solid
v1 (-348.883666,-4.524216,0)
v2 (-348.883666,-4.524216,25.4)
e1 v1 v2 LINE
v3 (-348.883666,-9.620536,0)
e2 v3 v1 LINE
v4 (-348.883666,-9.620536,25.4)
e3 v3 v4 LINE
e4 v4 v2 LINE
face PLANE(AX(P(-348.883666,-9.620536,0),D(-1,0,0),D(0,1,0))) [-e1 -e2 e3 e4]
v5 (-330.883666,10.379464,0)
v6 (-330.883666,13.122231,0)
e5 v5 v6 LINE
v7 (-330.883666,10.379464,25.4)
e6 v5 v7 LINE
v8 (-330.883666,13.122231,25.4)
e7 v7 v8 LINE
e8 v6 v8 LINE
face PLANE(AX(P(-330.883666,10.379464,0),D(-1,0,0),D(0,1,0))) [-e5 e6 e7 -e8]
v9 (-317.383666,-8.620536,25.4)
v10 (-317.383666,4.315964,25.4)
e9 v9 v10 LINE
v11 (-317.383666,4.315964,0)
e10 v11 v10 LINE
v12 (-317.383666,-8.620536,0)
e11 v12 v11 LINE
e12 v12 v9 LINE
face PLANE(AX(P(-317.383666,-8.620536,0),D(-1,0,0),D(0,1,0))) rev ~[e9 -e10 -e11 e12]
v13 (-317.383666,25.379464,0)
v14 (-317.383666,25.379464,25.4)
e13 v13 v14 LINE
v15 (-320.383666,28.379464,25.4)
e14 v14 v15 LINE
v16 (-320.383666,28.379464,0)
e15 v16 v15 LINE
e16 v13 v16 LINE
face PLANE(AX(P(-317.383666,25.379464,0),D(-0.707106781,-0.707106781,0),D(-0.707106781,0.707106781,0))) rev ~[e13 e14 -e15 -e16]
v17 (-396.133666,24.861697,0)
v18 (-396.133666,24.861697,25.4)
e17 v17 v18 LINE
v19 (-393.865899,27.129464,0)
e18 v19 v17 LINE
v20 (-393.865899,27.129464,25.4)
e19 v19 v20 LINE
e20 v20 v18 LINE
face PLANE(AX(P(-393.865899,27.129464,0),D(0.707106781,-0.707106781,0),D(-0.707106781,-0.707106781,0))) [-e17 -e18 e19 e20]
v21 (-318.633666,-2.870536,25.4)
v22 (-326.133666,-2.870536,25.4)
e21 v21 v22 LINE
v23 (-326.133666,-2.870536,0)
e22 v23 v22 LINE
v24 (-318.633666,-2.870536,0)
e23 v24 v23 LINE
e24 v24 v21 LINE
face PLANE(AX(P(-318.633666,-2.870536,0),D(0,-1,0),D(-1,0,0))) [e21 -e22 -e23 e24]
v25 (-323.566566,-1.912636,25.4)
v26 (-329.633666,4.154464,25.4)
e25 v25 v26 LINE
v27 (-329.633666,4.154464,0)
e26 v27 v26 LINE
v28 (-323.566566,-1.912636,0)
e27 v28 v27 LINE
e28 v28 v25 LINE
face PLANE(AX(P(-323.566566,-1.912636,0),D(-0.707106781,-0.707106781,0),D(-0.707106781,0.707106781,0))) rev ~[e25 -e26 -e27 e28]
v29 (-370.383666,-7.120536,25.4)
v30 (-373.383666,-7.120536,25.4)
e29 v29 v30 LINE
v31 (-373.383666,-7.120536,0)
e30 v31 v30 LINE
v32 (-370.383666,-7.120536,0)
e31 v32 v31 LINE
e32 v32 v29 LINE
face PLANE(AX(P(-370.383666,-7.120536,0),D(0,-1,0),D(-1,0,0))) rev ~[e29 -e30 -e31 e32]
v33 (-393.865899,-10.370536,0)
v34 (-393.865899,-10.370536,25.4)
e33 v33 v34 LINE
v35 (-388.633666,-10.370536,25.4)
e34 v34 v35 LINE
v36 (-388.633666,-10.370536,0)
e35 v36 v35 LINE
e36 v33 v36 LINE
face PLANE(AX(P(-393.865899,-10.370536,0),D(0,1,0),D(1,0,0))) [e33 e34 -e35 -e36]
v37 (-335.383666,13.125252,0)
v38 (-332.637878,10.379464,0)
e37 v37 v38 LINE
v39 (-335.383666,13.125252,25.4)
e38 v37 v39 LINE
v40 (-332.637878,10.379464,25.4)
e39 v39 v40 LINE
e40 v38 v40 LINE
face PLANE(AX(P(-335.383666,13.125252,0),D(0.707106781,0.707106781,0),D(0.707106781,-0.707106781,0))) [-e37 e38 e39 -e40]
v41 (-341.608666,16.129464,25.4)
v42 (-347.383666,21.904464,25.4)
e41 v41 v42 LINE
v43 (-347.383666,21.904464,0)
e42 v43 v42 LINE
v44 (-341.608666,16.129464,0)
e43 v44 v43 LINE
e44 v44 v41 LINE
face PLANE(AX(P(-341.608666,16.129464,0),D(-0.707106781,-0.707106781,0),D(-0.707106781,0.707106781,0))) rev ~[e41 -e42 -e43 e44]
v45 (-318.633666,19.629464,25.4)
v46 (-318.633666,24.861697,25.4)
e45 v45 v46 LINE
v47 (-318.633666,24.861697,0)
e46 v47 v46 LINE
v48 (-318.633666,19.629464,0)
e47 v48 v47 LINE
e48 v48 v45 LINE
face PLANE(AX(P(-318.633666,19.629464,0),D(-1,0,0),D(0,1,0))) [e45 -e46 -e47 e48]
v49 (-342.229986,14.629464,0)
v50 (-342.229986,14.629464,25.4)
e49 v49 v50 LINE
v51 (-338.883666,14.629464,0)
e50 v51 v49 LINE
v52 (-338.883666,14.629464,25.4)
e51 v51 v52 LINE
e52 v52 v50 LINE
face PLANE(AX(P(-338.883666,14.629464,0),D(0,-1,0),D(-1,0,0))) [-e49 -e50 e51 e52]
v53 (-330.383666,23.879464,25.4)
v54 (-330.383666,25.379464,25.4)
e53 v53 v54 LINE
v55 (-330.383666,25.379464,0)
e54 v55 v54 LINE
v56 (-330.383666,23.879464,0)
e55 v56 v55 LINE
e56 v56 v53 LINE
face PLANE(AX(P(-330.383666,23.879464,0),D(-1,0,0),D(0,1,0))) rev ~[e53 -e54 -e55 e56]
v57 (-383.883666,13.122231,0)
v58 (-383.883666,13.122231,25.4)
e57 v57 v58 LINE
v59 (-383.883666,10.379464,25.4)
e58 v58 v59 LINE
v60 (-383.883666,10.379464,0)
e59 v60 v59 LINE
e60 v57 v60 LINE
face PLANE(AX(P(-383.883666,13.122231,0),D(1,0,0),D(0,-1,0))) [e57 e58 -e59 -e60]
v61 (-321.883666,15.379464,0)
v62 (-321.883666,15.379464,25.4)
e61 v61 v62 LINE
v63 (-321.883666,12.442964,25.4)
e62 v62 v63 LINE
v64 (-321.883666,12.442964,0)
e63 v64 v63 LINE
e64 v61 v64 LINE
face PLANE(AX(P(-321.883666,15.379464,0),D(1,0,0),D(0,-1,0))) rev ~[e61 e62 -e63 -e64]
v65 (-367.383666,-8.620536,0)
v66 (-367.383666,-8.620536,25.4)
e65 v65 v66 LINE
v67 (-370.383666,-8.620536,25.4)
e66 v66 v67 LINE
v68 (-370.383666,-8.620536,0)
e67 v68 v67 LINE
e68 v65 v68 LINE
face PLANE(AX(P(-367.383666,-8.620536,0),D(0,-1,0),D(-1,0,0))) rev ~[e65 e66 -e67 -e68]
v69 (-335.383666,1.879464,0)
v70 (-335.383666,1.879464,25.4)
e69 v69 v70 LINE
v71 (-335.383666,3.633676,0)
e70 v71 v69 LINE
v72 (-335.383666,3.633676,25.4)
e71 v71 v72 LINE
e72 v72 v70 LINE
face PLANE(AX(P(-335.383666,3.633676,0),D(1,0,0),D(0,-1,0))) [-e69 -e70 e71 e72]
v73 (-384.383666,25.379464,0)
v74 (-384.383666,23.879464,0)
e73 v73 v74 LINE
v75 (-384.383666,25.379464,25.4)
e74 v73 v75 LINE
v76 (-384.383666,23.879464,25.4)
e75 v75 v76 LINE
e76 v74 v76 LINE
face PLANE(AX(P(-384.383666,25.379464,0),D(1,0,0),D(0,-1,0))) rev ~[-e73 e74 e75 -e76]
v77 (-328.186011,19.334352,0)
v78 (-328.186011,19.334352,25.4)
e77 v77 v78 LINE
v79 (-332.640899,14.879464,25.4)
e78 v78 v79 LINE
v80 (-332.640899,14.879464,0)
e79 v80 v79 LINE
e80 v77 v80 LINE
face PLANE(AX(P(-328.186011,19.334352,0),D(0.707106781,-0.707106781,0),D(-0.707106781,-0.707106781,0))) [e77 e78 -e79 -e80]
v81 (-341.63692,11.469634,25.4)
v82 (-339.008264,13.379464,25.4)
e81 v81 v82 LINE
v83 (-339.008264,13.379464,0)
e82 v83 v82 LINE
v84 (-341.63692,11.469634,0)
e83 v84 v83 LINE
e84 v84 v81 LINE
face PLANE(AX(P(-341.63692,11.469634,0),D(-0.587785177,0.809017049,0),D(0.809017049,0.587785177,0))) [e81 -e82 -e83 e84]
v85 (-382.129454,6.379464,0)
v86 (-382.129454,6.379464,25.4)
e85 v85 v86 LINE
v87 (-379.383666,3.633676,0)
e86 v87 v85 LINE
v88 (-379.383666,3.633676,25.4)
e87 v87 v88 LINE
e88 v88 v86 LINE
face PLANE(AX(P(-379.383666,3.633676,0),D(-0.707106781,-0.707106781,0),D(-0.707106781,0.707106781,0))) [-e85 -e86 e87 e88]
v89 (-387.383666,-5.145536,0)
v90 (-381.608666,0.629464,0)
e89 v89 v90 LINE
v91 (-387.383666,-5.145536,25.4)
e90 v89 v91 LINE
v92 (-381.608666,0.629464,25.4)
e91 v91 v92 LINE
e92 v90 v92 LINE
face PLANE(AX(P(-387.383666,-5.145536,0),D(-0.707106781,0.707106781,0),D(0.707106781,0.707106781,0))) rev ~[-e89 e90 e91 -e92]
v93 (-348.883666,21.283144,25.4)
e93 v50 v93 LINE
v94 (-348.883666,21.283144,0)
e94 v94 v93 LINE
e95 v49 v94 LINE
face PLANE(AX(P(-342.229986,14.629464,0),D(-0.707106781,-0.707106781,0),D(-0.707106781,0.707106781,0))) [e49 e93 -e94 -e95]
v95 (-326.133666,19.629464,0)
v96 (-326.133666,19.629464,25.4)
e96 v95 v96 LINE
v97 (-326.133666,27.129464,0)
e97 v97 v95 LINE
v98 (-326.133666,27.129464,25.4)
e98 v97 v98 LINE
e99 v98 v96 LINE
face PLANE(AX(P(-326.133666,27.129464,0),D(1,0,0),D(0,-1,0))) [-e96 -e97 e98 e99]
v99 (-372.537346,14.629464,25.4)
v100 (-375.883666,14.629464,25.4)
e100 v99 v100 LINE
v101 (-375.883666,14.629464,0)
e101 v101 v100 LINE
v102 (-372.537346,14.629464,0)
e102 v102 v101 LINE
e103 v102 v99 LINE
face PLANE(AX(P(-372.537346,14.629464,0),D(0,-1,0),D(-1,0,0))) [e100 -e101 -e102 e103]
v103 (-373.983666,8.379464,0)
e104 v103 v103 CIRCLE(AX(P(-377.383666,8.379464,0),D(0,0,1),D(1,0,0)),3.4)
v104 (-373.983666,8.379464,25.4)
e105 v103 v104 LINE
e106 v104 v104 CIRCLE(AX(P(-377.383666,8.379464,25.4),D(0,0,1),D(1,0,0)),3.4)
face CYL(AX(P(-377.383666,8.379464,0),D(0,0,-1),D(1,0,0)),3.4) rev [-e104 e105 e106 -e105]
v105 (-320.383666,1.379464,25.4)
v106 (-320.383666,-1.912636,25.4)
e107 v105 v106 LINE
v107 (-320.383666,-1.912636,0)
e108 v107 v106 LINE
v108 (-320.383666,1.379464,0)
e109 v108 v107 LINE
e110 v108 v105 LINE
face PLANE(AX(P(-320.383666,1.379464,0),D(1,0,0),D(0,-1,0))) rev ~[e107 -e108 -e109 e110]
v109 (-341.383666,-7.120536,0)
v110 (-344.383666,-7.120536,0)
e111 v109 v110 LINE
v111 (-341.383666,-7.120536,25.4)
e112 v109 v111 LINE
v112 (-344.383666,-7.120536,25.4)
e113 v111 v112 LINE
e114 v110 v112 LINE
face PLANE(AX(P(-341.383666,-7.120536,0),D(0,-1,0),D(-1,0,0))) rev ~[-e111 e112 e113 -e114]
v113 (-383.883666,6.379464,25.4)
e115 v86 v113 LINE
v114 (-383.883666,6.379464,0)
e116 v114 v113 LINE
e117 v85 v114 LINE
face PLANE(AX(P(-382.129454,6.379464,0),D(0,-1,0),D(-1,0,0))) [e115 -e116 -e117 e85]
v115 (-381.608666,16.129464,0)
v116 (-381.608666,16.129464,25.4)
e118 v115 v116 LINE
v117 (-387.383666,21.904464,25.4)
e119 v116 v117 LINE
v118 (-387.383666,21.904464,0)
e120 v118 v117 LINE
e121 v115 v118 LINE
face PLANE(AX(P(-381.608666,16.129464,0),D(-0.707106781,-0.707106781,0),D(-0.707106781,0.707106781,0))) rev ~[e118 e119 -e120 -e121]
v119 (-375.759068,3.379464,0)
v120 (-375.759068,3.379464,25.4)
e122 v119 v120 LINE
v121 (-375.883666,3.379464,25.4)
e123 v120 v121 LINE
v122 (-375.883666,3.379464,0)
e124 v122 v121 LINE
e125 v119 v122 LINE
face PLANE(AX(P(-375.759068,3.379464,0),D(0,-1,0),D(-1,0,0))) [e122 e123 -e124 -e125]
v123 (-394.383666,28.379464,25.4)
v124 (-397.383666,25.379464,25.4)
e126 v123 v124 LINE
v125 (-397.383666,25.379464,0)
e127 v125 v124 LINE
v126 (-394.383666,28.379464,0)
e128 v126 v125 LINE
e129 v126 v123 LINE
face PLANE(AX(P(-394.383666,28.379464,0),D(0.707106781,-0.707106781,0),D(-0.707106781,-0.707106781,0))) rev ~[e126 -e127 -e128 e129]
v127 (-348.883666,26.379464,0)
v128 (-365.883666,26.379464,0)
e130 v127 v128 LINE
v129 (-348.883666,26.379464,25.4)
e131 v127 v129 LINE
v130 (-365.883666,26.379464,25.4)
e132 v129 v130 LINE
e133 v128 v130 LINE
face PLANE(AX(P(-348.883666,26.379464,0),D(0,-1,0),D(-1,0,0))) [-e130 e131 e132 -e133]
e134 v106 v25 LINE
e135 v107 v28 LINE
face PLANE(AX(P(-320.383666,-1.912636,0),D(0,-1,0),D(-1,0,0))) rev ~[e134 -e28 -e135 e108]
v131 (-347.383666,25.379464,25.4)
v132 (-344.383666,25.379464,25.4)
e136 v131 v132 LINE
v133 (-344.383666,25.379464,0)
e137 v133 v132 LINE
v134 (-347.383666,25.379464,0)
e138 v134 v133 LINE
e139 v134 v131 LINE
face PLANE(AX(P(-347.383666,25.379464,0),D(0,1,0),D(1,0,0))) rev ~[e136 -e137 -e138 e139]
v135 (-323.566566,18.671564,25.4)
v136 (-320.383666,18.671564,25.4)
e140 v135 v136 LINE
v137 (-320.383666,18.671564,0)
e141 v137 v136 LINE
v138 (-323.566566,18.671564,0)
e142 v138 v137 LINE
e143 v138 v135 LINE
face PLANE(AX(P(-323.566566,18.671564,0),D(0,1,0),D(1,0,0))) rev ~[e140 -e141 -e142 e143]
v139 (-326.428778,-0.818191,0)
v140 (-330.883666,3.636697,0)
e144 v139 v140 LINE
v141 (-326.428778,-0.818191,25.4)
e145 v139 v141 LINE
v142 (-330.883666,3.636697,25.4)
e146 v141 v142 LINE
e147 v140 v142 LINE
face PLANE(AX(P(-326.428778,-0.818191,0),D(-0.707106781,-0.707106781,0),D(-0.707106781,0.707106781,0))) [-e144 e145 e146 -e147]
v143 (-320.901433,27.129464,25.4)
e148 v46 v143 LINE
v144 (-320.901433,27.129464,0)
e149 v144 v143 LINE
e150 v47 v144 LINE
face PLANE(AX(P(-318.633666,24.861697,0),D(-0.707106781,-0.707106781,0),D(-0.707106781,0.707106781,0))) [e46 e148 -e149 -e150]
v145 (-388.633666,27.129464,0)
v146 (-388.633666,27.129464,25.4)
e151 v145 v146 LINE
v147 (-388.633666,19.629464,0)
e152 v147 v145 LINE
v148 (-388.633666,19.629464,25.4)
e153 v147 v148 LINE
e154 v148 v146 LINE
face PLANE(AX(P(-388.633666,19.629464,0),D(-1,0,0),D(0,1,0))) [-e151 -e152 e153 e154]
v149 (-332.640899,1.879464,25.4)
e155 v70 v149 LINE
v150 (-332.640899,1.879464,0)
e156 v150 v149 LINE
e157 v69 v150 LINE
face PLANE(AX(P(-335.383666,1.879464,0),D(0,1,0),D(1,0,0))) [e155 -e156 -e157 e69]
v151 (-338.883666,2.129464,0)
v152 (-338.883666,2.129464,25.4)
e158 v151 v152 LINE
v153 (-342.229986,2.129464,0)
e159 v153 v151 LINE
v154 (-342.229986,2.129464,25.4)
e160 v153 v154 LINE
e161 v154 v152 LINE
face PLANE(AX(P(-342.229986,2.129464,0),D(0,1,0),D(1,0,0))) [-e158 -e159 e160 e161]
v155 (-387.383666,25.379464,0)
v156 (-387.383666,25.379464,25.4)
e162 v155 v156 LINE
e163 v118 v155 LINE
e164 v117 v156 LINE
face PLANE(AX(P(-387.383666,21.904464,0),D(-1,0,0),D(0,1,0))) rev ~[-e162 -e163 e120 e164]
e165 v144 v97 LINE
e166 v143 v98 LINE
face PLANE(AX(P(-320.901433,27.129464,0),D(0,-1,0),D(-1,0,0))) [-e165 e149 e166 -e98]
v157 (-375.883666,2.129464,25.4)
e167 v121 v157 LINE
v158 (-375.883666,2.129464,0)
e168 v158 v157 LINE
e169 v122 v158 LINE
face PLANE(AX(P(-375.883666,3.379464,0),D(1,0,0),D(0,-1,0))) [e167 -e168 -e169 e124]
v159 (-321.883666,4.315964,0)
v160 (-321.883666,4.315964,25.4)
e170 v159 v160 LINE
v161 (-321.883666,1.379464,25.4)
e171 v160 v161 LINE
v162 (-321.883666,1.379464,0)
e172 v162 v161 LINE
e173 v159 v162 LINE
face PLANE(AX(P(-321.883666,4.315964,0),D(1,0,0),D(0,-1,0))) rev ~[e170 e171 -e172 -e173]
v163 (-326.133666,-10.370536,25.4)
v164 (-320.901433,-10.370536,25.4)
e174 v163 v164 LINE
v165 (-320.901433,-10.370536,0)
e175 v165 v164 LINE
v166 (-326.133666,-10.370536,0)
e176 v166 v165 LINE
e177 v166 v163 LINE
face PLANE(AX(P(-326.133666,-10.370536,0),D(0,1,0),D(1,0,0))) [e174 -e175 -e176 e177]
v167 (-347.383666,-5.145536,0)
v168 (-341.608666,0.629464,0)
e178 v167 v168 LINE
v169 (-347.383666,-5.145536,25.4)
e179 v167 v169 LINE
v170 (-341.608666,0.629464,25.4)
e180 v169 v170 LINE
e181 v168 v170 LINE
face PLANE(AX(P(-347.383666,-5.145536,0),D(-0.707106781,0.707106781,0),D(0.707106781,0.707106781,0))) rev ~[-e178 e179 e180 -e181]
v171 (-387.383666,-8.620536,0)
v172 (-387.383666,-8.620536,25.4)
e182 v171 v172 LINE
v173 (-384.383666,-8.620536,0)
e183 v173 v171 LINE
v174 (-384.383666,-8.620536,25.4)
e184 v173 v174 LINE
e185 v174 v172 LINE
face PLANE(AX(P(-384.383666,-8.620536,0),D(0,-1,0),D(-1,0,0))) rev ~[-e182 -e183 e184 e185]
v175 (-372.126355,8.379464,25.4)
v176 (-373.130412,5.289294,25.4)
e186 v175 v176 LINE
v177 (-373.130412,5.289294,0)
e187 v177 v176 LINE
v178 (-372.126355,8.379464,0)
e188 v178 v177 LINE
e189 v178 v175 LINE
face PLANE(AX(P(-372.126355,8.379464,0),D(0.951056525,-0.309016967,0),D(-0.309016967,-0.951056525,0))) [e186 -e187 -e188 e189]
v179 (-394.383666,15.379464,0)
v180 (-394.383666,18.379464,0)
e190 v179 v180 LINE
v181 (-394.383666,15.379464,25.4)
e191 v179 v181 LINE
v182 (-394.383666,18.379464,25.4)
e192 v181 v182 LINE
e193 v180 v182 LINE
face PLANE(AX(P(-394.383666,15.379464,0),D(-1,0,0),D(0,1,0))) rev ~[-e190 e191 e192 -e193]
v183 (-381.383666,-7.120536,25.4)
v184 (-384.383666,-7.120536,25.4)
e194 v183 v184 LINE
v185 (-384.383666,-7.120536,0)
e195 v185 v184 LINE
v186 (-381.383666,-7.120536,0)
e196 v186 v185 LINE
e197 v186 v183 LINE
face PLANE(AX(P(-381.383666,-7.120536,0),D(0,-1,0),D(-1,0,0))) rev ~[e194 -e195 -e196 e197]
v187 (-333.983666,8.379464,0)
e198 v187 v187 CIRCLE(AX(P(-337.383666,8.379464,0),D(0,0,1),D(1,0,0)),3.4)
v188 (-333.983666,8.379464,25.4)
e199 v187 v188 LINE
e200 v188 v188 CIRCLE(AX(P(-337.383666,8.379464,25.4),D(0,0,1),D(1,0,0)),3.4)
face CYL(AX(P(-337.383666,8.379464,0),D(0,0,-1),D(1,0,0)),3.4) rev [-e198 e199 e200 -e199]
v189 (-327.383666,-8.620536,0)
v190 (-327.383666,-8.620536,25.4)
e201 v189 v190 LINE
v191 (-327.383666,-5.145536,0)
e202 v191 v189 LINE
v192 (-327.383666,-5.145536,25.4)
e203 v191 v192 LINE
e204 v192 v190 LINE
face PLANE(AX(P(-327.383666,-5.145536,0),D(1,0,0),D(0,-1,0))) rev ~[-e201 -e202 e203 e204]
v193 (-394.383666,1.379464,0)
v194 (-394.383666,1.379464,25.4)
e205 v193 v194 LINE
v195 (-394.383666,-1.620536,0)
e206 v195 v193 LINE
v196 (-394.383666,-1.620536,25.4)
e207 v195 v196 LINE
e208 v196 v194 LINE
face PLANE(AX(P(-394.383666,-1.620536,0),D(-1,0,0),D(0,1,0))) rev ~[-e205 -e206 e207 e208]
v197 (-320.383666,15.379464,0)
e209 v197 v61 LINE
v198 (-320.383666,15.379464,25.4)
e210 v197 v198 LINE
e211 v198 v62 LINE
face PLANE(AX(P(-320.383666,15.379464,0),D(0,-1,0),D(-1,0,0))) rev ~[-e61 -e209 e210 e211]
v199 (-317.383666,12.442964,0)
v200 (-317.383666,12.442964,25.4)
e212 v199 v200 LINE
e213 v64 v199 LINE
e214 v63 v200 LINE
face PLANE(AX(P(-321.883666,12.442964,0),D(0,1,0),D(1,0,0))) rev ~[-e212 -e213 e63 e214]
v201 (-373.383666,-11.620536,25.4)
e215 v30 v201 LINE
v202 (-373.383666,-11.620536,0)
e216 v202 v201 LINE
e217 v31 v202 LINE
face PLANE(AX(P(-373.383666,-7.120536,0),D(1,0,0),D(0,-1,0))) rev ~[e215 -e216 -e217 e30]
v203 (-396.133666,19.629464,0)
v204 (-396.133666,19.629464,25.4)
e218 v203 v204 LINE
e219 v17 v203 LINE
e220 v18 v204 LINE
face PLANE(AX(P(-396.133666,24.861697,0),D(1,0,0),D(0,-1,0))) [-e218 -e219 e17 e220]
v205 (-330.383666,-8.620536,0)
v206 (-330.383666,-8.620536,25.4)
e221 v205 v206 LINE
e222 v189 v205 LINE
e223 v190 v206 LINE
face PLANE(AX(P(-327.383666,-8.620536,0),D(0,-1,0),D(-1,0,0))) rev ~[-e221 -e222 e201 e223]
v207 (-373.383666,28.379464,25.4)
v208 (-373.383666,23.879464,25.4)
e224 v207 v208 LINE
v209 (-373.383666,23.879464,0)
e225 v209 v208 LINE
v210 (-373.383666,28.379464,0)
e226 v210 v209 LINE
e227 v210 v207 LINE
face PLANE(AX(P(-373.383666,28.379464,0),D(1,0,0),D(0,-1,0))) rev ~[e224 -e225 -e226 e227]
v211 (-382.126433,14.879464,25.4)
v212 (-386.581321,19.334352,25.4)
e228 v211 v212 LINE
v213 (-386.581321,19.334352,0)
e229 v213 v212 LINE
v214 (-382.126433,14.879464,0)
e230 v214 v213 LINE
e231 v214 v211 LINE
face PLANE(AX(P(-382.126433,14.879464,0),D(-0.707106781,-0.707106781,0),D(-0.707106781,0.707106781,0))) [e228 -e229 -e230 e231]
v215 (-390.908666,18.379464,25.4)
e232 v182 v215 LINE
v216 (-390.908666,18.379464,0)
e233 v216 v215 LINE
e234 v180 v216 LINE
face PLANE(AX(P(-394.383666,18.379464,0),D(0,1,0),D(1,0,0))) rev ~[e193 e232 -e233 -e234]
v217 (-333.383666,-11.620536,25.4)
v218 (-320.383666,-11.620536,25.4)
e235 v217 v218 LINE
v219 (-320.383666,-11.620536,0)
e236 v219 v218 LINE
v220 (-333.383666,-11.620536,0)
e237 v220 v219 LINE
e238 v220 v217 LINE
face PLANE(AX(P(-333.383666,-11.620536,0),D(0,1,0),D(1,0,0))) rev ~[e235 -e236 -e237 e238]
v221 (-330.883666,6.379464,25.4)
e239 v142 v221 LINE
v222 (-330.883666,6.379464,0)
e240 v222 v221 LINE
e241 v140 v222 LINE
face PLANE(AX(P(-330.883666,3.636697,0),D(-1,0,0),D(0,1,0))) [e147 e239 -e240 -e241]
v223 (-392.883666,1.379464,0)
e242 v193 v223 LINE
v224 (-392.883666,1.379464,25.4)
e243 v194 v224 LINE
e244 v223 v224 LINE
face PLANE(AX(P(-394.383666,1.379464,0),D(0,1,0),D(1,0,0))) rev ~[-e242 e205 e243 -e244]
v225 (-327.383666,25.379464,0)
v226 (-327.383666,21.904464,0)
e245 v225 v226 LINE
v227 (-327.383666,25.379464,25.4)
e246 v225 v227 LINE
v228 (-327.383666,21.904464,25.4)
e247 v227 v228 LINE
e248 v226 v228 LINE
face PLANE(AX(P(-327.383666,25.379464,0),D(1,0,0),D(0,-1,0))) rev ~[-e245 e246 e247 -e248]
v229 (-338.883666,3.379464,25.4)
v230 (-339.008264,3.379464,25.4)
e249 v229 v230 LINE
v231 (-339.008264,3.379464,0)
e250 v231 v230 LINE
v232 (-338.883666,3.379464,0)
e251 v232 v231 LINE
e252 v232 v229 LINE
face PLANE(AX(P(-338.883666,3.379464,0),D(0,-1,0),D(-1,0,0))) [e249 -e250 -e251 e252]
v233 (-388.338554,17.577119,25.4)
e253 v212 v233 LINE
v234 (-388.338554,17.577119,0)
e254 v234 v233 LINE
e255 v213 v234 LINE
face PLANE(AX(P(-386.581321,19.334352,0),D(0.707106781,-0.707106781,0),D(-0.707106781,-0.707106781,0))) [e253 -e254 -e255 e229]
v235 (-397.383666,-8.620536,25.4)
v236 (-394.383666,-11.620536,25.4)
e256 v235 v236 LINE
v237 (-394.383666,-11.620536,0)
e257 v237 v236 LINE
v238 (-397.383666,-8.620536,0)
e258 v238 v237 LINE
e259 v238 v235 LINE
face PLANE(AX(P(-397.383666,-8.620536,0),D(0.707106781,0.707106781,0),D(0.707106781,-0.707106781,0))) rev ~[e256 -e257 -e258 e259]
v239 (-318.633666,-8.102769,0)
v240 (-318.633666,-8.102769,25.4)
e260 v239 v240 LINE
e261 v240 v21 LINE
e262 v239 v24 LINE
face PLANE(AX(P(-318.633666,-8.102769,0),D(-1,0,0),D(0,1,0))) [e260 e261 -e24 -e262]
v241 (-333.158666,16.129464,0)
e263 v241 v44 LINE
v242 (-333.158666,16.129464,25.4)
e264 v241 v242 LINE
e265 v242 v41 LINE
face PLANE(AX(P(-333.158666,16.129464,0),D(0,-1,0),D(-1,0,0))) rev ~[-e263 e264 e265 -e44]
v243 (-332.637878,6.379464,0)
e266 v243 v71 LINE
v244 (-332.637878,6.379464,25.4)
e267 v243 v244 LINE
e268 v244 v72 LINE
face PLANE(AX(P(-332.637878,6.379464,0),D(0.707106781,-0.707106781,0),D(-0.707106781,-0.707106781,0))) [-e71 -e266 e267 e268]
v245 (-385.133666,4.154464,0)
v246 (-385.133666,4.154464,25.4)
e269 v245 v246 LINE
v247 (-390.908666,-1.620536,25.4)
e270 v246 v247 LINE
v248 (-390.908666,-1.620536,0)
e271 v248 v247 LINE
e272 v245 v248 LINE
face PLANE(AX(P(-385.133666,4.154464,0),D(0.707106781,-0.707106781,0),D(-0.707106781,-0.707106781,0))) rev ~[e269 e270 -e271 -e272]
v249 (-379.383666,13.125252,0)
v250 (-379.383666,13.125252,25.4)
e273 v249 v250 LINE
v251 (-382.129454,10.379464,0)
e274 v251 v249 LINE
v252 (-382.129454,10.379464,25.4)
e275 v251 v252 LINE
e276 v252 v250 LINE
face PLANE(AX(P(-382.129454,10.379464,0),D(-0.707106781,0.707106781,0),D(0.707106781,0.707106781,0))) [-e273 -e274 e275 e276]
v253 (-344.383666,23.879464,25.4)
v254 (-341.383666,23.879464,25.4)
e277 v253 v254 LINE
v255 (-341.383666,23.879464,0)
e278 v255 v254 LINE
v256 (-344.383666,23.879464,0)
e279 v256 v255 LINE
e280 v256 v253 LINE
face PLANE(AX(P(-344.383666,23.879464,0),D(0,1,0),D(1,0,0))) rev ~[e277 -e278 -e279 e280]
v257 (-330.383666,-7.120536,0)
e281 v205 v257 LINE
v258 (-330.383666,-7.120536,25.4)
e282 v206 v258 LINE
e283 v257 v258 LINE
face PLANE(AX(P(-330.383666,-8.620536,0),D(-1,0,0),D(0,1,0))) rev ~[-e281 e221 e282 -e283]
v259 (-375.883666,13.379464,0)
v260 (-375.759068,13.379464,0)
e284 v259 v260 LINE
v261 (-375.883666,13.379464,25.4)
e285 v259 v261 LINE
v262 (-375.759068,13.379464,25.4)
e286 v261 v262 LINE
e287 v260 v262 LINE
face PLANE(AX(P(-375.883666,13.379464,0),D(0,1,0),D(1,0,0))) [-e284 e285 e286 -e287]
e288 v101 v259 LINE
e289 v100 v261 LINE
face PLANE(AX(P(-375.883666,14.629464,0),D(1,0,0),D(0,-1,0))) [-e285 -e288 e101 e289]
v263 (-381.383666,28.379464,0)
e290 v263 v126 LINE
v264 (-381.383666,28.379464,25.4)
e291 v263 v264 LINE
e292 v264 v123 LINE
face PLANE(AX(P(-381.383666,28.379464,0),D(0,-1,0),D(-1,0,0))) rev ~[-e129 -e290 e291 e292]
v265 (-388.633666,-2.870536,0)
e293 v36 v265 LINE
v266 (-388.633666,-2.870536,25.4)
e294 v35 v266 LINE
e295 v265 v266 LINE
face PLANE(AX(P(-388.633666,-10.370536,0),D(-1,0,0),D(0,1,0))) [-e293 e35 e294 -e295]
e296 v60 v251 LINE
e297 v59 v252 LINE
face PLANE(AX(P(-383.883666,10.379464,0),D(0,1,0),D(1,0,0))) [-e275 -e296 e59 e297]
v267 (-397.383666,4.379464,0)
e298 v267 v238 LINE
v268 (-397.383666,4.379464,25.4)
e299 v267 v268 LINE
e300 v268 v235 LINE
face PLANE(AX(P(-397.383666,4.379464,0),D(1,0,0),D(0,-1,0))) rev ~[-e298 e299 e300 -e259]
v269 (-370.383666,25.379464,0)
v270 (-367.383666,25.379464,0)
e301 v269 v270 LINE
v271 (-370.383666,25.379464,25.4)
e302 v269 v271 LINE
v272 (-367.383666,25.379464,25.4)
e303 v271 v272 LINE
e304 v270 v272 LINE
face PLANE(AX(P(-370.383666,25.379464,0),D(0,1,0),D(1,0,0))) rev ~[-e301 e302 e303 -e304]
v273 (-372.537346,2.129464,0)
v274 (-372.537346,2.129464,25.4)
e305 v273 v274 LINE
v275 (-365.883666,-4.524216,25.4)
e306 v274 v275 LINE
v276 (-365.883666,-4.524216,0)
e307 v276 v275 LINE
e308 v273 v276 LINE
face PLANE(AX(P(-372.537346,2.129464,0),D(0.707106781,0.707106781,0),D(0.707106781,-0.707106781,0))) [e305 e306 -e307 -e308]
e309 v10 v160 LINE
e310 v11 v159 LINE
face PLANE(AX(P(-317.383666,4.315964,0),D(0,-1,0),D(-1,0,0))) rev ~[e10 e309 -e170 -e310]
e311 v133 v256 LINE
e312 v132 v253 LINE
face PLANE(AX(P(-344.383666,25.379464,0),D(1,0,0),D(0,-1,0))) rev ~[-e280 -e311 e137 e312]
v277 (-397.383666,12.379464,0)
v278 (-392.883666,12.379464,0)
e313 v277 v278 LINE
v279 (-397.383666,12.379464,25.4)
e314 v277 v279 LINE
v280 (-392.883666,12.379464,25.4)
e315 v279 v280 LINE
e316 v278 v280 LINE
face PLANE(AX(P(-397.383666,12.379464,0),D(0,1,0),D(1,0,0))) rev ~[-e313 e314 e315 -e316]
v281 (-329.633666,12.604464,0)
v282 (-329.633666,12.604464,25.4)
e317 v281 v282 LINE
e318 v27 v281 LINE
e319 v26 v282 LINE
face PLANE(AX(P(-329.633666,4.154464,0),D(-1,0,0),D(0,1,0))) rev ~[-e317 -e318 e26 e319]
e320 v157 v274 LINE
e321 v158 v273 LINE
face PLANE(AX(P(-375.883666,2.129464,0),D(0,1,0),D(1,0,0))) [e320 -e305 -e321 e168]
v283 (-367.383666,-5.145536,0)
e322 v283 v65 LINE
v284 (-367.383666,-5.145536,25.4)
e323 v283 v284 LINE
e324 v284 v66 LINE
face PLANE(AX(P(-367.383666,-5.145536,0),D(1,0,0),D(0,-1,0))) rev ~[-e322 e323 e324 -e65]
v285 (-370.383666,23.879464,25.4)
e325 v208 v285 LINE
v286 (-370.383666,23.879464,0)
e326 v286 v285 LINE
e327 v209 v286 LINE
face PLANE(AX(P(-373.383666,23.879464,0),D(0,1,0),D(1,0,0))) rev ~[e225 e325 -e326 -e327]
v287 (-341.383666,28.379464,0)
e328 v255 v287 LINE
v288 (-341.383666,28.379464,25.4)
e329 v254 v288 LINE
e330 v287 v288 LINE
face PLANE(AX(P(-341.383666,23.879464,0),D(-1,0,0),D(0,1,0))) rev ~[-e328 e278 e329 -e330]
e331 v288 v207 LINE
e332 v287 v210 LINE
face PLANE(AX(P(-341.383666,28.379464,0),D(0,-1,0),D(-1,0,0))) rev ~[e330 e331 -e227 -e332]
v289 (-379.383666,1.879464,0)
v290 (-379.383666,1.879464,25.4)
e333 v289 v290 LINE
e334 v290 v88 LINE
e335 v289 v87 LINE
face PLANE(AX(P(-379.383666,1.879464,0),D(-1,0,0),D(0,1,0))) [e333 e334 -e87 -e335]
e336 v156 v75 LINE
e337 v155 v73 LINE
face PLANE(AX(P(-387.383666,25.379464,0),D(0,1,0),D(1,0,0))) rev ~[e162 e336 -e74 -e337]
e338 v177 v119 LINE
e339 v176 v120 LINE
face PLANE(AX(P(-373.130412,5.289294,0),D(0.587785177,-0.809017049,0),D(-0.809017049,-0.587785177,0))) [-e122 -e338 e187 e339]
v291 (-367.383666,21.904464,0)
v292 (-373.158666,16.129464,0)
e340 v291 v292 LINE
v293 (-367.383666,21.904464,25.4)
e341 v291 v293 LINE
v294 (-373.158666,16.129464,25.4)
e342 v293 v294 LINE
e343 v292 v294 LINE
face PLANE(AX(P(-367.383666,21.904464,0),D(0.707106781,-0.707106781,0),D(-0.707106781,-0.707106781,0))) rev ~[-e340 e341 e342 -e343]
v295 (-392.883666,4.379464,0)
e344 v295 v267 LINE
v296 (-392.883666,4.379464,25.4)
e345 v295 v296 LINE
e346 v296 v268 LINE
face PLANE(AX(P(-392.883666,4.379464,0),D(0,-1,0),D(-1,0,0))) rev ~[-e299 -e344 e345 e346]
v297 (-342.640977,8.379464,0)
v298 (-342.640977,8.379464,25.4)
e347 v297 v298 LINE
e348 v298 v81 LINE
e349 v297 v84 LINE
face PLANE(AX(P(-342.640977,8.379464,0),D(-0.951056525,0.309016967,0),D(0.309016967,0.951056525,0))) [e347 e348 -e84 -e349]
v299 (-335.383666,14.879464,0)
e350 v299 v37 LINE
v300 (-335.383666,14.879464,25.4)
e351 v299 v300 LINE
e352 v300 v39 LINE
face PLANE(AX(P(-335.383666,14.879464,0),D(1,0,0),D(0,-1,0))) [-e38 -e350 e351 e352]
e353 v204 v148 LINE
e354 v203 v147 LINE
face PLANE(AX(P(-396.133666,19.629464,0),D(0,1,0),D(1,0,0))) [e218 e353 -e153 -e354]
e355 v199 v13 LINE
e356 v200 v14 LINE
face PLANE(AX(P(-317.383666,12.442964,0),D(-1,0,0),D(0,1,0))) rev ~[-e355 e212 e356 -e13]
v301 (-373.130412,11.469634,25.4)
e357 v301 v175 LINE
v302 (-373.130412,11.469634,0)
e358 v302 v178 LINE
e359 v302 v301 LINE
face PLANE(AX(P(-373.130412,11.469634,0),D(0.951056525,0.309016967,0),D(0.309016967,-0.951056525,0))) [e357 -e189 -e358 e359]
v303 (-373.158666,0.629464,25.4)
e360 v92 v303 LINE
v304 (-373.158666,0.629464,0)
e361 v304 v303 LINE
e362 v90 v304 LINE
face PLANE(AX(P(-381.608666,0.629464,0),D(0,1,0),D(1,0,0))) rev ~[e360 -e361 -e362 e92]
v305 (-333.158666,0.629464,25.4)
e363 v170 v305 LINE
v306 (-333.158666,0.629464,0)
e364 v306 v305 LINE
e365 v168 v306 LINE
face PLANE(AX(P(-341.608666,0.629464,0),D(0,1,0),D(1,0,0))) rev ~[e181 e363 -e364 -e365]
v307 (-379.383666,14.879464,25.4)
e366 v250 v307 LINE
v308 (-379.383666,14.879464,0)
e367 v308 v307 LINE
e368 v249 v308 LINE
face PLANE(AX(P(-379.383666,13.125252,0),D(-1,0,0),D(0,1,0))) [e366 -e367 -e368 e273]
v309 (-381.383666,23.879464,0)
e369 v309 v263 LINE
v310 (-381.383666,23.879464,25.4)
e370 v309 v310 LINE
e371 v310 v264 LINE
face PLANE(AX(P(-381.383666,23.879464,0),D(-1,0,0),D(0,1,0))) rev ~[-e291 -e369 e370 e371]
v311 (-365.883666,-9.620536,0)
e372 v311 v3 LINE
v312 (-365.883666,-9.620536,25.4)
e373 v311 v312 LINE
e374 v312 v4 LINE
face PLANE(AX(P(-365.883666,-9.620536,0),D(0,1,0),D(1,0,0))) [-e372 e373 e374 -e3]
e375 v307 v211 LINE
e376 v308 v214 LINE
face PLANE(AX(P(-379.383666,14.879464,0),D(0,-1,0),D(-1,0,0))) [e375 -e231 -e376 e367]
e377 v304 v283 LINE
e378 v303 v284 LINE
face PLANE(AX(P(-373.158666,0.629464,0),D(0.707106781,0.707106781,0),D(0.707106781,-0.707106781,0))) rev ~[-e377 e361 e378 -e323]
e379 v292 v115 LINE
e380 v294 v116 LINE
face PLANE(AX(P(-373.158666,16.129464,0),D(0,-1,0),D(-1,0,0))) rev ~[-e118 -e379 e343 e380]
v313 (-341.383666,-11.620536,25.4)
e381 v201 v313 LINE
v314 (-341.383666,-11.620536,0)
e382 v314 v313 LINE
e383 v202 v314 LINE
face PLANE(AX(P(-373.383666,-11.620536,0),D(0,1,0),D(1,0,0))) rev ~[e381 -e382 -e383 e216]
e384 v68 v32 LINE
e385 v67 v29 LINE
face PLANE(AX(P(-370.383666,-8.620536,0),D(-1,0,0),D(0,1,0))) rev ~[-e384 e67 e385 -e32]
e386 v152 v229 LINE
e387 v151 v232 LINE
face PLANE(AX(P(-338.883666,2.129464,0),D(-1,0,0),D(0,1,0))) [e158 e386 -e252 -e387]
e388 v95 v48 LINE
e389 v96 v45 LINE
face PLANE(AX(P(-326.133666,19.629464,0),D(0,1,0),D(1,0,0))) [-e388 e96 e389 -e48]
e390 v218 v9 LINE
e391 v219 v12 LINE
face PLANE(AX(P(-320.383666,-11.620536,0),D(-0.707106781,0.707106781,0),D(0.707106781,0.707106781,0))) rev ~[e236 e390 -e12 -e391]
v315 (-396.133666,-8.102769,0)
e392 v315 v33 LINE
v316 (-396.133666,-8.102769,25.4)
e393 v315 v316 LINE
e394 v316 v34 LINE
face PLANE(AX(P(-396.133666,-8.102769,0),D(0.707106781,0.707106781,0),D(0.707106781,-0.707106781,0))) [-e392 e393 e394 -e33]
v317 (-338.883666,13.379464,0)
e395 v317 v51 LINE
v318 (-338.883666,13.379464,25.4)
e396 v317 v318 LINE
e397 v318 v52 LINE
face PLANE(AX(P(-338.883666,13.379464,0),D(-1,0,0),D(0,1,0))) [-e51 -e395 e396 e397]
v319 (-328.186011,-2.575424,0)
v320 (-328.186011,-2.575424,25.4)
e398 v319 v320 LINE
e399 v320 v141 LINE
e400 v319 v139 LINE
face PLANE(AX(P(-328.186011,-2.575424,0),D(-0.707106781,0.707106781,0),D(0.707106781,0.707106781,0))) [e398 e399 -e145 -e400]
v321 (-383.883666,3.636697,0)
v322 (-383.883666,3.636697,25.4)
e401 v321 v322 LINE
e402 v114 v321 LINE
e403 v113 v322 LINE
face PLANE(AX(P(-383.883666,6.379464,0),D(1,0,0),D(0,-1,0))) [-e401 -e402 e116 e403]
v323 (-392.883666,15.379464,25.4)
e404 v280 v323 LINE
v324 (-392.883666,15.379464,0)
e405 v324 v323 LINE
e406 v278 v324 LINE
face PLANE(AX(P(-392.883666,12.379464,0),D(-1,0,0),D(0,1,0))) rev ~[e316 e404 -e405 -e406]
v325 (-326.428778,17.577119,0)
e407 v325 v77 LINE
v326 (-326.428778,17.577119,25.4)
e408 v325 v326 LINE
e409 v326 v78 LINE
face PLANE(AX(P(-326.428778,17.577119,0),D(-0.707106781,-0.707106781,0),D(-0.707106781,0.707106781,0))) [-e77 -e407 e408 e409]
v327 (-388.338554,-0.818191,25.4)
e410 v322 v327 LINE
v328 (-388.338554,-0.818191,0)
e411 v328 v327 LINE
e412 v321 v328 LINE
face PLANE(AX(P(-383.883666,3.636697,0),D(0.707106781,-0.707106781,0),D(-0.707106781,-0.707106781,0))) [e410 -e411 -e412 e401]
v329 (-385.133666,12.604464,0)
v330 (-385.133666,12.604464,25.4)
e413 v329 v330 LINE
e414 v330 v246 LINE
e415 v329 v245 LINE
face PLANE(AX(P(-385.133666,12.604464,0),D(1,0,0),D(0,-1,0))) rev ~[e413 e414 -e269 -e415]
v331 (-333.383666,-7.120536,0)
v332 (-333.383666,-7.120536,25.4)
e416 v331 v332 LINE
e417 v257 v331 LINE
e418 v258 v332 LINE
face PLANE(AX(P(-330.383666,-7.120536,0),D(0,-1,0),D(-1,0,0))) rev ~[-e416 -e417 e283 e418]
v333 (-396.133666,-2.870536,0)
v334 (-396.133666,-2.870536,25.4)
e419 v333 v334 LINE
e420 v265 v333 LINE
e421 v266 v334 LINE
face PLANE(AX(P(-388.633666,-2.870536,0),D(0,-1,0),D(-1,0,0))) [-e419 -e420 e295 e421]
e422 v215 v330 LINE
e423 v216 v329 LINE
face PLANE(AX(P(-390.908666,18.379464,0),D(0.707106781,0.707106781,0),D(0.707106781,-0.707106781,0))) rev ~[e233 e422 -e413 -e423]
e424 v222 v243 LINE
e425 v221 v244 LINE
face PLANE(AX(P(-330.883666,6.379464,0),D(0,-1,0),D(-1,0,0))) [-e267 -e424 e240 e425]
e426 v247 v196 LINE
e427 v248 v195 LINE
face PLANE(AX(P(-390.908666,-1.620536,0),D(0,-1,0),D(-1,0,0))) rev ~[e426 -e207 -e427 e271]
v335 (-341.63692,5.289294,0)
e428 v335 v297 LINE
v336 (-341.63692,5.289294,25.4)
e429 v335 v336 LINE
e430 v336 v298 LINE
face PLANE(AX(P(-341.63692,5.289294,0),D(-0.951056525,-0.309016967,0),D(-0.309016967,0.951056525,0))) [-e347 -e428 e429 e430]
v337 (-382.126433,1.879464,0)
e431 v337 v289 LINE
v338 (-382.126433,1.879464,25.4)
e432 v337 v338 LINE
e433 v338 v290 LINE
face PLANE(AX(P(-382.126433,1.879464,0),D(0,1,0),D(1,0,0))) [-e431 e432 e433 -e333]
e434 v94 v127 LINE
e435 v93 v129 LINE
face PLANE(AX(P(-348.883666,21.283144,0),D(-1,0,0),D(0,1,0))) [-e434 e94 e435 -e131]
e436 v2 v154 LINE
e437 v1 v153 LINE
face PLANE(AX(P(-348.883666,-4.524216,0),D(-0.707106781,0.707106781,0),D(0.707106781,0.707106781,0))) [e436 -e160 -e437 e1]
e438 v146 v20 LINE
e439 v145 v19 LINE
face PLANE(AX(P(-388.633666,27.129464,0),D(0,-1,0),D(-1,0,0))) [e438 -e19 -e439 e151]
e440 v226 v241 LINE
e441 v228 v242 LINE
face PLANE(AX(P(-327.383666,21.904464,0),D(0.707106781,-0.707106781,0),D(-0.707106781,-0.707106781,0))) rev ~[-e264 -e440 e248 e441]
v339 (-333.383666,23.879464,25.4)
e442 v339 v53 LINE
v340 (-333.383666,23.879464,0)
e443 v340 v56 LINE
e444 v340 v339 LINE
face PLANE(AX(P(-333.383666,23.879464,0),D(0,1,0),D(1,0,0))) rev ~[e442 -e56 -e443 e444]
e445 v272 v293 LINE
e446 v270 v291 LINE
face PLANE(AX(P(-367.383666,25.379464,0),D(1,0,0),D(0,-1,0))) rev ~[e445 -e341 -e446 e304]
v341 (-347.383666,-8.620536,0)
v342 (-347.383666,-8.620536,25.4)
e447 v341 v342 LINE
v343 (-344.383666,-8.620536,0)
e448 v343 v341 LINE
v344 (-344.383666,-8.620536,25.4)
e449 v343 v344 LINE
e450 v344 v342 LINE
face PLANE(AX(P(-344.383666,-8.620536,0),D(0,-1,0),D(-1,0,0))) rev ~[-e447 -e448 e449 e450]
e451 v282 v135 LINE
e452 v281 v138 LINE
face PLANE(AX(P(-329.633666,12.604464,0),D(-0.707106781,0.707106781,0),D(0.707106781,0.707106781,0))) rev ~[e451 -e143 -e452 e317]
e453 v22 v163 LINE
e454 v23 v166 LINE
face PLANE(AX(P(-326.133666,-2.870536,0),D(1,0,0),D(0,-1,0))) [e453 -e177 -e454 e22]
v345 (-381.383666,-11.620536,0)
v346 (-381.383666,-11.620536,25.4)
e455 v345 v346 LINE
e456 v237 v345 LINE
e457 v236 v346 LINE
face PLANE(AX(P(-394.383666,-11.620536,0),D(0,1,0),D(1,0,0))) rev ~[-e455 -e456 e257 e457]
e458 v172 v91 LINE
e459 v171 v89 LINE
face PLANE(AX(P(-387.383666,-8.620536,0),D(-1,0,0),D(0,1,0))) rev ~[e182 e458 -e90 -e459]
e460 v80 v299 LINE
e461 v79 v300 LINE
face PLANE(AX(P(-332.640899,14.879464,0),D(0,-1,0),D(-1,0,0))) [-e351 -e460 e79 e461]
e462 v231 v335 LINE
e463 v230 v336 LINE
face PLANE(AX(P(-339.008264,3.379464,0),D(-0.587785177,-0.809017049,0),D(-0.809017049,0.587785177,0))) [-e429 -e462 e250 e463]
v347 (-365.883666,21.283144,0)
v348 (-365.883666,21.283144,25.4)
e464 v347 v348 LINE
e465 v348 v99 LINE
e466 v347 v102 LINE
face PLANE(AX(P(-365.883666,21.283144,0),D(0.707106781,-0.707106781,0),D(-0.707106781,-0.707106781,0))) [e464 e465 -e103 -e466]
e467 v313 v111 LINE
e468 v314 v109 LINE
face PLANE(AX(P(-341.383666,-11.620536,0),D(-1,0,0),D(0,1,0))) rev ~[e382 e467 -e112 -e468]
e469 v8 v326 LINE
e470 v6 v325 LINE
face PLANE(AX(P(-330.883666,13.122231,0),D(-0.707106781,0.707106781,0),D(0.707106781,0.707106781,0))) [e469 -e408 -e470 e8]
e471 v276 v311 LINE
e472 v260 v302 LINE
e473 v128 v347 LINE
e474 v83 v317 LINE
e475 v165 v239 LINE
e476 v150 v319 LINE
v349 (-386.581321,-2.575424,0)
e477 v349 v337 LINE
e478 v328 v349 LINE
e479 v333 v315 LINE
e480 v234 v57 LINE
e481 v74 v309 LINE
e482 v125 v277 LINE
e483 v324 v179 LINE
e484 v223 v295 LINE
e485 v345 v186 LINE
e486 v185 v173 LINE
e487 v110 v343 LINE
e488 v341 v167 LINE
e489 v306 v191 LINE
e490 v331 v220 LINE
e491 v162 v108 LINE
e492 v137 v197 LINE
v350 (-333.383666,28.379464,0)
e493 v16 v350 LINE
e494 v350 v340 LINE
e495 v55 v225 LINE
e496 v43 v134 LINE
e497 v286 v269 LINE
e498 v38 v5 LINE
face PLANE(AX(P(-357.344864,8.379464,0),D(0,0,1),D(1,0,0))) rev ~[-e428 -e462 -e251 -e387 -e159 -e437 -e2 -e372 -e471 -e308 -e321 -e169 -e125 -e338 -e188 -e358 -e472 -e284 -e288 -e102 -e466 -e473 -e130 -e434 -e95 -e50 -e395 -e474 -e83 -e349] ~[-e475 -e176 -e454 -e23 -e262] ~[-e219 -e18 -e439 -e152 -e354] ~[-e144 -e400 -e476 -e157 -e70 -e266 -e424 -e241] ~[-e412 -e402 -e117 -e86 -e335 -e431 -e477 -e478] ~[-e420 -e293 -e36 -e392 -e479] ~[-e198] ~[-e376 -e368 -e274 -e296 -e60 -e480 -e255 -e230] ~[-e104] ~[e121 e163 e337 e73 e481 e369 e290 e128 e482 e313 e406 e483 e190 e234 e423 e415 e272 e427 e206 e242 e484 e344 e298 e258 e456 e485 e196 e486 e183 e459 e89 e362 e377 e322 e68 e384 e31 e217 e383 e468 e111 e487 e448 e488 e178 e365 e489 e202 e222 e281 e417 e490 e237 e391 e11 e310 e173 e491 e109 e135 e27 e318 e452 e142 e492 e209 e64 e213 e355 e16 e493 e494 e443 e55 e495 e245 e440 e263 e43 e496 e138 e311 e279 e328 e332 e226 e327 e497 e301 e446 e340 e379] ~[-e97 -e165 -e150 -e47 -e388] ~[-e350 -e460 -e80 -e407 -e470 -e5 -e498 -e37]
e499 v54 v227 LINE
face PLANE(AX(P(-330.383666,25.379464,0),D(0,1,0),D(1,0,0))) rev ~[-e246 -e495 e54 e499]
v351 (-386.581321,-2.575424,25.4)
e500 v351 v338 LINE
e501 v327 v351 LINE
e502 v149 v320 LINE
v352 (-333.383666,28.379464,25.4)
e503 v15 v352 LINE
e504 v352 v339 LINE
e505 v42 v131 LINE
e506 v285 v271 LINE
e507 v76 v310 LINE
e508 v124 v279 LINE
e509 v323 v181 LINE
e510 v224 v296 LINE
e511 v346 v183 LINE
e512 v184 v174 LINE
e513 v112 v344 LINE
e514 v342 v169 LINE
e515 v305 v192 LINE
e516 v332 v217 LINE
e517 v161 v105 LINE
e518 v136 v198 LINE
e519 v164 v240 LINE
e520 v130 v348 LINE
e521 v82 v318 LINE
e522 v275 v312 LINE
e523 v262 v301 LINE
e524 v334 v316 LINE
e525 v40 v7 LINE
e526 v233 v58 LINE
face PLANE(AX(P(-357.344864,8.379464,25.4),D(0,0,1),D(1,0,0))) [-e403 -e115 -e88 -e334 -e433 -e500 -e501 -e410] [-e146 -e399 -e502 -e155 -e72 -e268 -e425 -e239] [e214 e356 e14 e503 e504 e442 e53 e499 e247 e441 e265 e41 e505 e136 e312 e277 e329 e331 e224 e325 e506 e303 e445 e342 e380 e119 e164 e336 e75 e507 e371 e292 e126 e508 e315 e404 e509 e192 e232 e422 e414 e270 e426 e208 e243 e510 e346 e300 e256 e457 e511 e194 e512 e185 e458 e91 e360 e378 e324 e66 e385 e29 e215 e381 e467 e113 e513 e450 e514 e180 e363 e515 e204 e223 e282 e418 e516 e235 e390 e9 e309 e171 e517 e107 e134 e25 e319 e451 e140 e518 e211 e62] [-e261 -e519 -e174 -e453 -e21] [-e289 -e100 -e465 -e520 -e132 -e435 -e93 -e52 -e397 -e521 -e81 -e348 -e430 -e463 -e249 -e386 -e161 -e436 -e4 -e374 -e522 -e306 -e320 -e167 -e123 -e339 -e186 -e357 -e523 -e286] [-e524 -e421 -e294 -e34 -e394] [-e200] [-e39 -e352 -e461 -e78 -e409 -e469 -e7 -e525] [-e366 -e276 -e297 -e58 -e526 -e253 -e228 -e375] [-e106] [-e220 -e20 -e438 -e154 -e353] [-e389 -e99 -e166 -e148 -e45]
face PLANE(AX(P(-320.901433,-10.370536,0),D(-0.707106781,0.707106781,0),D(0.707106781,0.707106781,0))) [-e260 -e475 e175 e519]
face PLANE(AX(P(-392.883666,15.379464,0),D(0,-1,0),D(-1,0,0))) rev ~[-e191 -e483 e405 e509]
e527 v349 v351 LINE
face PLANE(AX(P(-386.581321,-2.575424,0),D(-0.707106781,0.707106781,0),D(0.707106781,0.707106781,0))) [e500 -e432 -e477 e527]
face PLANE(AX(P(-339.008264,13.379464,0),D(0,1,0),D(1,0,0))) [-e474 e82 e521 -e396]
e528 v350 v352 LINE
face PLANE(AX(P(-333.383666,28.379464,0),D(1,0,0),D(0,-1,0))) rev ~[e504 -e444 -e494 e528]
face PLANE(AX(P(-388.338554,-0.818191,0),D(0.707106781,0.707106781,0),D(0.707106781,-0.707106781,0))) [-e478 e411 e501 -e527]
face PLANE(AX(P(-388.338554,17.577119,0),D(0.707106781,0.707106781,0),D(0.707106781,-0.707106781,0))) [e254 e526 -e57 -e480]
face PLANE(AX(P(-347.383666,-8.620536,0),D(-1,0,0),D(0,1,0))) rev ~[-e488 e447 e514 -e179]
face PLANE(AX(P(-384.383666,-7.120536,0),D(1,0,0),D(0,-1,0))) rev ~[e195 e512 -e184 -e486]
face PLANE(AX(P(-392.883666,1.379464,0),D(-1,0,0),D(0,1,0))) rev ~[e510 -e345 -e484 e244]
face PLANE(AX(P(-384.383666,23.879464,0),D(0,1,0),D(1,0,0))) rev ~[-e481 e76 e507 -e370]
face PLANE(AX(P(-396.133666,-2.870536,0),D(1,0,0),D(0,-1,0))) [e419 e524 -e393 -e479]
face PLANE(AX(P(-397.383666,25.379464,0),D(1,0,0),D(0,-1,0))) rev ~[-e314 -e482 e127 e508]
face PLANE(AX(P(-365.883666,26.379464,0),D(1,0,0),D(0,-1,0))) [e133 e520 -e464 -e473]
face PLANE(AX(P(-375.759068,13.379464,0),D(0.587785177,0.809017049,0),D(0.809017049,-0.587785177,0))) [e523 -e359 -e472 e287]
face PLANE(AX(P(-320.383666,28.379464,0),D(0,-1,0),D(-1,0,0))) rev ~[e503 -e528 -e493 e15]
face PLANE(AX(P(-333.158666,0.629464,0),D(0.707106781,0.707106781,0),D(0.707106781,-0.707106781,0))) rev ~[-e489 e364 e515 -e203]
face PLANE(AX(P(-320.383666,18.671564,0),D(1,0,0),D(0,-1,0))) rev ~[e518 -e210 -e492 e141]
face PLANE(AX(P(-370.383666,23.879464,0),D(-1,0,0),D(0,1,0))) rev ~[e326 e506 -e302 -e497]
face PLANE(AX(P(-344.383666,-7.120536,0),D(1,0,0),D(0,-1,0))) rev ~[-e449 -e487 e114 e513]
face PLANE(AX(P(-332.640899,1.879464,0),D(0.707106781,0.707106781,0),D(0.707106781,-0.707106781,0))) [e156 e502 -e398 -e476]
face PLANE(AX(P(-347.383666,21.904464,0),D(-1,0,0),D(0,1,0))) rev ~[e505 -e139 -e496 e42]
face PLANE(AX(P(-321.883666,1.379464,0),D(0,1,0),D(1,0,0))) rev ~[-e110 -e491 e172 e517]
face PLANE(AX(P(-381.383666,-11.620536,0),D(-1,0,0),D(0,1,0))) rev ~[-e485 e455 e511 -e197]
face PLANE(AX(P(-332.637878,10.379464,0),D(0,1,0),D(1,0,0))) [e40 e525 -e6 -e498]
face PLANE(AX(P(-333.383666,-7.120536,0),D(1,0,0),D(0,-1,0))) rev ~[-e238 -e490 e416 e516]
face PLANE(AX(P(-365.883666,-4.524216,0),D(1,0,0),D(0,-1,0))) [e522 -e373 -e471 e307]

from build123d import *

# Parameters (mm, degrees)
SKETCH1_R      = 3.4
EXTRUDE1_DEPTH = 25.4


with BuildPart() as part:
    # Sketch1 → Extrude1 (new body)
    with BuildSketch(Plane.XY):
        Polygon((-367.383665724, -5.145535609), (-367.383665724, -8.620535609), (-370.383665724, -8.620535609), (-370.383665724, -7.120535609), (-373.383665724, -7.120535609), (-373.383665724, -11.620535609), (-341.383665724, -11.620535609), (-341.383665724, -7.120535609), (-344.383665724, -7.120535609), (-344.383665724, -8.620535609), (-347.383665724, -8.620535609), (-347.383665724, -5.145535609), (-341.608665724, 0.629464391), (-333.158665724, 0.629464391), (-327.383665724, -5.145535609), (-327.383665724, -8.620535609), (-330.383665724, -8.620535609), (-330.383665724, -7.120535609), (-333.383665724, -7.120535609), (-333.383665724, -11.620535609), (-320.383665724, -11.620535609), (-317.383665724, -8.620535609), (-317.383665724, 4.315964391), (-321.883665724, 4.315964391), (-321.883665724, 1.379464391), (-320.383665724, 1.379464391), (-320.383665724, -1.912635609), (-323.566565724, -1.912635609), (-329.633665724, 4.154464391), (-329.633665724, 12.604464391), (-323.566565724, 18.671564391), (-320.383665724, 18.671564391), (-320.383665724, 15.379464391), (-321.883665724, 15.379464391), (-321.883665724, 12.442964391), (-317.383665724, 12.442964391), (-317.383665724, 25.379464391), (-320.383665724, 28.379464391), (-333.383665724, 28.379464391), (-333.383665724, 23.879464391), (-330.383665724, 23.879464391), (-330.383665724, 25.379464391), (-327.383665724, 25.379464391), (-327.383665724, 21.904464391), (-333.158665724, 16.129464391), (-341.608665724, 16.129464391), (-347.383665724, 21.904464391), (-347.383665724, 25.379464391), (-344.383665724, 25.379464391), (-344.383665724, 23.879464391), (-341.383665724, 23.879464391), (-341.383665724, 28.379464391), (-373.383665724, 28.379464391), (-373.383665724, 23.879464391), (-370.383665724, 23.879464391), (-370.383665724, 25.379464391), (-367.383665724, 25.379464391), (-367.383665724, 21.904464391), (-373.158665724, 16.129464391), (-381.608665724, 16.129464391), (-387.383665724, 21.904464391), (-387.383665724, 25.379464391), (-384.383665724, 25.379464391), (-384.383665724, 23.879464391), (-381.383665724, 23.879464391), (-381.383665724, 28.379464391), (-394.383665724, 28.379464391), (-397.383665724, 25.379464391), (-397.383665724, 12.379464391), (-392.883665724, 12.379464391), (-392.883665724, 15.379464391), (-394.383665724, 15.379464391), (-394.383665724, 18.379464391), (-390.908665724, 18.379464391), (-385.133665724, 12.604464391), (-385.133665724, 4.154464391), (-390.908665724, -1.620535609), (-394.383665724, -1.620535609), (-394.383665724, 1.379464391), (-392.883665724, 1.379464391), (-392.883665724, 4.379464391), (-397.383665724, 4.379464391), (-397.383665724, -8.620535609), (-394.383665724, -11.620535609), (-381.383665724, -11.620535609), (-381.383665724, -7.120535609), (-384.383665724, -7.120535609), (-384.383665724, -8.620535609), (-387.383665724, -8.620535609), (-387.383665724, -5.145535609), (-381.608665724, 0.629464391), (-373.158665724, 0.629464391), align=None)
        with Locations((-337.383665724, 8.379464391)):
            Circle(SKETCH1_R, mode=Mode.SUBTRACT)
        with Locations((-377.383665724, 8.379464391)):
            Circle(SKETCH1_R, mode=Mode.SUBTRACT)
        Polygon((-373.130411724, 11.469634391), (-372.126354724, 8.379464391), (-373.130411724, 5.289294391), (-375.759067724, 3.379464391), (-375.883665724, 3.379464391), (-375.883665724, 2.129464391), (-372.537345724, 2.129464391), (-365.883665724, -4.524215609), (-365.883665724, -9.620535609), (-348.883665724, -9.620535609), (-348.883665724, -4.524215609), (-342.229985724, 2.129464391), (-338.883665724, 2.129464391), (-338.883665724, 3.379464391), (-339.008263724, 3.379464391), (-341.636919724, 5.289294391), (-342.640976724, 8.379464391), (-341.636919724, 11.469634391), (-339.008263724, 13.379464391), (-338.883665724, 13.379464391), (-338.883665724, 14.629464391), (-342.229985724, 14.629464391), (-348.883665724, 21.283144391), (-348.883665724, 26.379464391), (-365.883665724, 26.379464391), (-365.883665724, 21.283144391), (-372.537345724, 14.629464391), (-375.883665724, 14.629464391), (-375.883665724, 13.379464391), (-375.759067724, 13.379464391), align=None, mode=Mode.SUBTRACT)
        Polygon((-382.126432724, 14.879464391), (-386.581320724, 19.334352391), (-388.338553724, 17.577119391), (-383.883665724, 13.122231391), (-383.883665724, 10.379464391), (-382.129453724, 10.379464391), (-379.383665724, 13.125252391), (-379.383665724, 14.879464391), align=None, mode=Mode.SUBTRACT)
        Polygon((-332.640898724, 1.879464391), (-328.186010724, -2.575423609), (-326.428777724, -0.818190609), (-330.883665724, 3.636697391), (-330.883665724, 6.379464391), (-332.637877724, 6.379464391), (-335.383665724, 3.633676391), (-335.383665724, 1.879464391), align=None, mode=Mode.SUBTRACT)
        Polygon((-383.883665724, 3.636697391), (-388.338553724, -0.818190609), (-386.581320724, -2.575423609), (-382.126432724, 1.879464391), (-379.383665724, 1.879464391), (-379.383665724, 3.633676391), (-382.129453724, 6.379464391), (-383.883665724, 6.379464391), align=None, mode=Mode.SUBTRACT)
        Polygon((-330.883665724, 13.122231391), (-326.428777724, 17.577119391), (-328.186010724, 19.334352391), (-332.640898724, 14.879464391), (-335.383665724, 14.879464391), (-335.383665724, 13.125252391), (-332.637877724, 10.379464391), (-330.883665724, 10.379464391), align=None, mode=Mode.SUBTRACT)
        Polygon((-393.865898724, 27.129464391), (-396.133665724, 24.861697391), (-396.133665724, 19.629464391), (-388.633665724, 19.629464391), (-388.633665724, 27.129464391), align=None, mode=Mode.SUBTRACT)
        Polygon((-320.901432724, -10.370535609), (-318.633665724, -8.102768609), (-318.633665724, -2.870535609), (-326.133665724, -2.870535609), (-326.133665724, -10.370535609), align=None, mode=Mode.SUBTRACT)
        Polygon((-396.133665724, -2.870535609), (-396.133665724, -8.102768609), (-393.865898724, -10.370535609), (-388.633665724, -10.370535609), (-388.633665724, -2.870535609), align=None, mode=Mode.SUBTRACT)
        Polygon((-318.633665724, 19.629464391), (-318.633665724, 24.861697391), (-320.901432724, 27.129464391), (-326.133665724, 27.129464391), (-326.133665724, 19.629464391), align=None, mode=Mode.SUBTRACT)
    extrude(amount=EXTRUDE1_DEPTH)


solid = part.part
